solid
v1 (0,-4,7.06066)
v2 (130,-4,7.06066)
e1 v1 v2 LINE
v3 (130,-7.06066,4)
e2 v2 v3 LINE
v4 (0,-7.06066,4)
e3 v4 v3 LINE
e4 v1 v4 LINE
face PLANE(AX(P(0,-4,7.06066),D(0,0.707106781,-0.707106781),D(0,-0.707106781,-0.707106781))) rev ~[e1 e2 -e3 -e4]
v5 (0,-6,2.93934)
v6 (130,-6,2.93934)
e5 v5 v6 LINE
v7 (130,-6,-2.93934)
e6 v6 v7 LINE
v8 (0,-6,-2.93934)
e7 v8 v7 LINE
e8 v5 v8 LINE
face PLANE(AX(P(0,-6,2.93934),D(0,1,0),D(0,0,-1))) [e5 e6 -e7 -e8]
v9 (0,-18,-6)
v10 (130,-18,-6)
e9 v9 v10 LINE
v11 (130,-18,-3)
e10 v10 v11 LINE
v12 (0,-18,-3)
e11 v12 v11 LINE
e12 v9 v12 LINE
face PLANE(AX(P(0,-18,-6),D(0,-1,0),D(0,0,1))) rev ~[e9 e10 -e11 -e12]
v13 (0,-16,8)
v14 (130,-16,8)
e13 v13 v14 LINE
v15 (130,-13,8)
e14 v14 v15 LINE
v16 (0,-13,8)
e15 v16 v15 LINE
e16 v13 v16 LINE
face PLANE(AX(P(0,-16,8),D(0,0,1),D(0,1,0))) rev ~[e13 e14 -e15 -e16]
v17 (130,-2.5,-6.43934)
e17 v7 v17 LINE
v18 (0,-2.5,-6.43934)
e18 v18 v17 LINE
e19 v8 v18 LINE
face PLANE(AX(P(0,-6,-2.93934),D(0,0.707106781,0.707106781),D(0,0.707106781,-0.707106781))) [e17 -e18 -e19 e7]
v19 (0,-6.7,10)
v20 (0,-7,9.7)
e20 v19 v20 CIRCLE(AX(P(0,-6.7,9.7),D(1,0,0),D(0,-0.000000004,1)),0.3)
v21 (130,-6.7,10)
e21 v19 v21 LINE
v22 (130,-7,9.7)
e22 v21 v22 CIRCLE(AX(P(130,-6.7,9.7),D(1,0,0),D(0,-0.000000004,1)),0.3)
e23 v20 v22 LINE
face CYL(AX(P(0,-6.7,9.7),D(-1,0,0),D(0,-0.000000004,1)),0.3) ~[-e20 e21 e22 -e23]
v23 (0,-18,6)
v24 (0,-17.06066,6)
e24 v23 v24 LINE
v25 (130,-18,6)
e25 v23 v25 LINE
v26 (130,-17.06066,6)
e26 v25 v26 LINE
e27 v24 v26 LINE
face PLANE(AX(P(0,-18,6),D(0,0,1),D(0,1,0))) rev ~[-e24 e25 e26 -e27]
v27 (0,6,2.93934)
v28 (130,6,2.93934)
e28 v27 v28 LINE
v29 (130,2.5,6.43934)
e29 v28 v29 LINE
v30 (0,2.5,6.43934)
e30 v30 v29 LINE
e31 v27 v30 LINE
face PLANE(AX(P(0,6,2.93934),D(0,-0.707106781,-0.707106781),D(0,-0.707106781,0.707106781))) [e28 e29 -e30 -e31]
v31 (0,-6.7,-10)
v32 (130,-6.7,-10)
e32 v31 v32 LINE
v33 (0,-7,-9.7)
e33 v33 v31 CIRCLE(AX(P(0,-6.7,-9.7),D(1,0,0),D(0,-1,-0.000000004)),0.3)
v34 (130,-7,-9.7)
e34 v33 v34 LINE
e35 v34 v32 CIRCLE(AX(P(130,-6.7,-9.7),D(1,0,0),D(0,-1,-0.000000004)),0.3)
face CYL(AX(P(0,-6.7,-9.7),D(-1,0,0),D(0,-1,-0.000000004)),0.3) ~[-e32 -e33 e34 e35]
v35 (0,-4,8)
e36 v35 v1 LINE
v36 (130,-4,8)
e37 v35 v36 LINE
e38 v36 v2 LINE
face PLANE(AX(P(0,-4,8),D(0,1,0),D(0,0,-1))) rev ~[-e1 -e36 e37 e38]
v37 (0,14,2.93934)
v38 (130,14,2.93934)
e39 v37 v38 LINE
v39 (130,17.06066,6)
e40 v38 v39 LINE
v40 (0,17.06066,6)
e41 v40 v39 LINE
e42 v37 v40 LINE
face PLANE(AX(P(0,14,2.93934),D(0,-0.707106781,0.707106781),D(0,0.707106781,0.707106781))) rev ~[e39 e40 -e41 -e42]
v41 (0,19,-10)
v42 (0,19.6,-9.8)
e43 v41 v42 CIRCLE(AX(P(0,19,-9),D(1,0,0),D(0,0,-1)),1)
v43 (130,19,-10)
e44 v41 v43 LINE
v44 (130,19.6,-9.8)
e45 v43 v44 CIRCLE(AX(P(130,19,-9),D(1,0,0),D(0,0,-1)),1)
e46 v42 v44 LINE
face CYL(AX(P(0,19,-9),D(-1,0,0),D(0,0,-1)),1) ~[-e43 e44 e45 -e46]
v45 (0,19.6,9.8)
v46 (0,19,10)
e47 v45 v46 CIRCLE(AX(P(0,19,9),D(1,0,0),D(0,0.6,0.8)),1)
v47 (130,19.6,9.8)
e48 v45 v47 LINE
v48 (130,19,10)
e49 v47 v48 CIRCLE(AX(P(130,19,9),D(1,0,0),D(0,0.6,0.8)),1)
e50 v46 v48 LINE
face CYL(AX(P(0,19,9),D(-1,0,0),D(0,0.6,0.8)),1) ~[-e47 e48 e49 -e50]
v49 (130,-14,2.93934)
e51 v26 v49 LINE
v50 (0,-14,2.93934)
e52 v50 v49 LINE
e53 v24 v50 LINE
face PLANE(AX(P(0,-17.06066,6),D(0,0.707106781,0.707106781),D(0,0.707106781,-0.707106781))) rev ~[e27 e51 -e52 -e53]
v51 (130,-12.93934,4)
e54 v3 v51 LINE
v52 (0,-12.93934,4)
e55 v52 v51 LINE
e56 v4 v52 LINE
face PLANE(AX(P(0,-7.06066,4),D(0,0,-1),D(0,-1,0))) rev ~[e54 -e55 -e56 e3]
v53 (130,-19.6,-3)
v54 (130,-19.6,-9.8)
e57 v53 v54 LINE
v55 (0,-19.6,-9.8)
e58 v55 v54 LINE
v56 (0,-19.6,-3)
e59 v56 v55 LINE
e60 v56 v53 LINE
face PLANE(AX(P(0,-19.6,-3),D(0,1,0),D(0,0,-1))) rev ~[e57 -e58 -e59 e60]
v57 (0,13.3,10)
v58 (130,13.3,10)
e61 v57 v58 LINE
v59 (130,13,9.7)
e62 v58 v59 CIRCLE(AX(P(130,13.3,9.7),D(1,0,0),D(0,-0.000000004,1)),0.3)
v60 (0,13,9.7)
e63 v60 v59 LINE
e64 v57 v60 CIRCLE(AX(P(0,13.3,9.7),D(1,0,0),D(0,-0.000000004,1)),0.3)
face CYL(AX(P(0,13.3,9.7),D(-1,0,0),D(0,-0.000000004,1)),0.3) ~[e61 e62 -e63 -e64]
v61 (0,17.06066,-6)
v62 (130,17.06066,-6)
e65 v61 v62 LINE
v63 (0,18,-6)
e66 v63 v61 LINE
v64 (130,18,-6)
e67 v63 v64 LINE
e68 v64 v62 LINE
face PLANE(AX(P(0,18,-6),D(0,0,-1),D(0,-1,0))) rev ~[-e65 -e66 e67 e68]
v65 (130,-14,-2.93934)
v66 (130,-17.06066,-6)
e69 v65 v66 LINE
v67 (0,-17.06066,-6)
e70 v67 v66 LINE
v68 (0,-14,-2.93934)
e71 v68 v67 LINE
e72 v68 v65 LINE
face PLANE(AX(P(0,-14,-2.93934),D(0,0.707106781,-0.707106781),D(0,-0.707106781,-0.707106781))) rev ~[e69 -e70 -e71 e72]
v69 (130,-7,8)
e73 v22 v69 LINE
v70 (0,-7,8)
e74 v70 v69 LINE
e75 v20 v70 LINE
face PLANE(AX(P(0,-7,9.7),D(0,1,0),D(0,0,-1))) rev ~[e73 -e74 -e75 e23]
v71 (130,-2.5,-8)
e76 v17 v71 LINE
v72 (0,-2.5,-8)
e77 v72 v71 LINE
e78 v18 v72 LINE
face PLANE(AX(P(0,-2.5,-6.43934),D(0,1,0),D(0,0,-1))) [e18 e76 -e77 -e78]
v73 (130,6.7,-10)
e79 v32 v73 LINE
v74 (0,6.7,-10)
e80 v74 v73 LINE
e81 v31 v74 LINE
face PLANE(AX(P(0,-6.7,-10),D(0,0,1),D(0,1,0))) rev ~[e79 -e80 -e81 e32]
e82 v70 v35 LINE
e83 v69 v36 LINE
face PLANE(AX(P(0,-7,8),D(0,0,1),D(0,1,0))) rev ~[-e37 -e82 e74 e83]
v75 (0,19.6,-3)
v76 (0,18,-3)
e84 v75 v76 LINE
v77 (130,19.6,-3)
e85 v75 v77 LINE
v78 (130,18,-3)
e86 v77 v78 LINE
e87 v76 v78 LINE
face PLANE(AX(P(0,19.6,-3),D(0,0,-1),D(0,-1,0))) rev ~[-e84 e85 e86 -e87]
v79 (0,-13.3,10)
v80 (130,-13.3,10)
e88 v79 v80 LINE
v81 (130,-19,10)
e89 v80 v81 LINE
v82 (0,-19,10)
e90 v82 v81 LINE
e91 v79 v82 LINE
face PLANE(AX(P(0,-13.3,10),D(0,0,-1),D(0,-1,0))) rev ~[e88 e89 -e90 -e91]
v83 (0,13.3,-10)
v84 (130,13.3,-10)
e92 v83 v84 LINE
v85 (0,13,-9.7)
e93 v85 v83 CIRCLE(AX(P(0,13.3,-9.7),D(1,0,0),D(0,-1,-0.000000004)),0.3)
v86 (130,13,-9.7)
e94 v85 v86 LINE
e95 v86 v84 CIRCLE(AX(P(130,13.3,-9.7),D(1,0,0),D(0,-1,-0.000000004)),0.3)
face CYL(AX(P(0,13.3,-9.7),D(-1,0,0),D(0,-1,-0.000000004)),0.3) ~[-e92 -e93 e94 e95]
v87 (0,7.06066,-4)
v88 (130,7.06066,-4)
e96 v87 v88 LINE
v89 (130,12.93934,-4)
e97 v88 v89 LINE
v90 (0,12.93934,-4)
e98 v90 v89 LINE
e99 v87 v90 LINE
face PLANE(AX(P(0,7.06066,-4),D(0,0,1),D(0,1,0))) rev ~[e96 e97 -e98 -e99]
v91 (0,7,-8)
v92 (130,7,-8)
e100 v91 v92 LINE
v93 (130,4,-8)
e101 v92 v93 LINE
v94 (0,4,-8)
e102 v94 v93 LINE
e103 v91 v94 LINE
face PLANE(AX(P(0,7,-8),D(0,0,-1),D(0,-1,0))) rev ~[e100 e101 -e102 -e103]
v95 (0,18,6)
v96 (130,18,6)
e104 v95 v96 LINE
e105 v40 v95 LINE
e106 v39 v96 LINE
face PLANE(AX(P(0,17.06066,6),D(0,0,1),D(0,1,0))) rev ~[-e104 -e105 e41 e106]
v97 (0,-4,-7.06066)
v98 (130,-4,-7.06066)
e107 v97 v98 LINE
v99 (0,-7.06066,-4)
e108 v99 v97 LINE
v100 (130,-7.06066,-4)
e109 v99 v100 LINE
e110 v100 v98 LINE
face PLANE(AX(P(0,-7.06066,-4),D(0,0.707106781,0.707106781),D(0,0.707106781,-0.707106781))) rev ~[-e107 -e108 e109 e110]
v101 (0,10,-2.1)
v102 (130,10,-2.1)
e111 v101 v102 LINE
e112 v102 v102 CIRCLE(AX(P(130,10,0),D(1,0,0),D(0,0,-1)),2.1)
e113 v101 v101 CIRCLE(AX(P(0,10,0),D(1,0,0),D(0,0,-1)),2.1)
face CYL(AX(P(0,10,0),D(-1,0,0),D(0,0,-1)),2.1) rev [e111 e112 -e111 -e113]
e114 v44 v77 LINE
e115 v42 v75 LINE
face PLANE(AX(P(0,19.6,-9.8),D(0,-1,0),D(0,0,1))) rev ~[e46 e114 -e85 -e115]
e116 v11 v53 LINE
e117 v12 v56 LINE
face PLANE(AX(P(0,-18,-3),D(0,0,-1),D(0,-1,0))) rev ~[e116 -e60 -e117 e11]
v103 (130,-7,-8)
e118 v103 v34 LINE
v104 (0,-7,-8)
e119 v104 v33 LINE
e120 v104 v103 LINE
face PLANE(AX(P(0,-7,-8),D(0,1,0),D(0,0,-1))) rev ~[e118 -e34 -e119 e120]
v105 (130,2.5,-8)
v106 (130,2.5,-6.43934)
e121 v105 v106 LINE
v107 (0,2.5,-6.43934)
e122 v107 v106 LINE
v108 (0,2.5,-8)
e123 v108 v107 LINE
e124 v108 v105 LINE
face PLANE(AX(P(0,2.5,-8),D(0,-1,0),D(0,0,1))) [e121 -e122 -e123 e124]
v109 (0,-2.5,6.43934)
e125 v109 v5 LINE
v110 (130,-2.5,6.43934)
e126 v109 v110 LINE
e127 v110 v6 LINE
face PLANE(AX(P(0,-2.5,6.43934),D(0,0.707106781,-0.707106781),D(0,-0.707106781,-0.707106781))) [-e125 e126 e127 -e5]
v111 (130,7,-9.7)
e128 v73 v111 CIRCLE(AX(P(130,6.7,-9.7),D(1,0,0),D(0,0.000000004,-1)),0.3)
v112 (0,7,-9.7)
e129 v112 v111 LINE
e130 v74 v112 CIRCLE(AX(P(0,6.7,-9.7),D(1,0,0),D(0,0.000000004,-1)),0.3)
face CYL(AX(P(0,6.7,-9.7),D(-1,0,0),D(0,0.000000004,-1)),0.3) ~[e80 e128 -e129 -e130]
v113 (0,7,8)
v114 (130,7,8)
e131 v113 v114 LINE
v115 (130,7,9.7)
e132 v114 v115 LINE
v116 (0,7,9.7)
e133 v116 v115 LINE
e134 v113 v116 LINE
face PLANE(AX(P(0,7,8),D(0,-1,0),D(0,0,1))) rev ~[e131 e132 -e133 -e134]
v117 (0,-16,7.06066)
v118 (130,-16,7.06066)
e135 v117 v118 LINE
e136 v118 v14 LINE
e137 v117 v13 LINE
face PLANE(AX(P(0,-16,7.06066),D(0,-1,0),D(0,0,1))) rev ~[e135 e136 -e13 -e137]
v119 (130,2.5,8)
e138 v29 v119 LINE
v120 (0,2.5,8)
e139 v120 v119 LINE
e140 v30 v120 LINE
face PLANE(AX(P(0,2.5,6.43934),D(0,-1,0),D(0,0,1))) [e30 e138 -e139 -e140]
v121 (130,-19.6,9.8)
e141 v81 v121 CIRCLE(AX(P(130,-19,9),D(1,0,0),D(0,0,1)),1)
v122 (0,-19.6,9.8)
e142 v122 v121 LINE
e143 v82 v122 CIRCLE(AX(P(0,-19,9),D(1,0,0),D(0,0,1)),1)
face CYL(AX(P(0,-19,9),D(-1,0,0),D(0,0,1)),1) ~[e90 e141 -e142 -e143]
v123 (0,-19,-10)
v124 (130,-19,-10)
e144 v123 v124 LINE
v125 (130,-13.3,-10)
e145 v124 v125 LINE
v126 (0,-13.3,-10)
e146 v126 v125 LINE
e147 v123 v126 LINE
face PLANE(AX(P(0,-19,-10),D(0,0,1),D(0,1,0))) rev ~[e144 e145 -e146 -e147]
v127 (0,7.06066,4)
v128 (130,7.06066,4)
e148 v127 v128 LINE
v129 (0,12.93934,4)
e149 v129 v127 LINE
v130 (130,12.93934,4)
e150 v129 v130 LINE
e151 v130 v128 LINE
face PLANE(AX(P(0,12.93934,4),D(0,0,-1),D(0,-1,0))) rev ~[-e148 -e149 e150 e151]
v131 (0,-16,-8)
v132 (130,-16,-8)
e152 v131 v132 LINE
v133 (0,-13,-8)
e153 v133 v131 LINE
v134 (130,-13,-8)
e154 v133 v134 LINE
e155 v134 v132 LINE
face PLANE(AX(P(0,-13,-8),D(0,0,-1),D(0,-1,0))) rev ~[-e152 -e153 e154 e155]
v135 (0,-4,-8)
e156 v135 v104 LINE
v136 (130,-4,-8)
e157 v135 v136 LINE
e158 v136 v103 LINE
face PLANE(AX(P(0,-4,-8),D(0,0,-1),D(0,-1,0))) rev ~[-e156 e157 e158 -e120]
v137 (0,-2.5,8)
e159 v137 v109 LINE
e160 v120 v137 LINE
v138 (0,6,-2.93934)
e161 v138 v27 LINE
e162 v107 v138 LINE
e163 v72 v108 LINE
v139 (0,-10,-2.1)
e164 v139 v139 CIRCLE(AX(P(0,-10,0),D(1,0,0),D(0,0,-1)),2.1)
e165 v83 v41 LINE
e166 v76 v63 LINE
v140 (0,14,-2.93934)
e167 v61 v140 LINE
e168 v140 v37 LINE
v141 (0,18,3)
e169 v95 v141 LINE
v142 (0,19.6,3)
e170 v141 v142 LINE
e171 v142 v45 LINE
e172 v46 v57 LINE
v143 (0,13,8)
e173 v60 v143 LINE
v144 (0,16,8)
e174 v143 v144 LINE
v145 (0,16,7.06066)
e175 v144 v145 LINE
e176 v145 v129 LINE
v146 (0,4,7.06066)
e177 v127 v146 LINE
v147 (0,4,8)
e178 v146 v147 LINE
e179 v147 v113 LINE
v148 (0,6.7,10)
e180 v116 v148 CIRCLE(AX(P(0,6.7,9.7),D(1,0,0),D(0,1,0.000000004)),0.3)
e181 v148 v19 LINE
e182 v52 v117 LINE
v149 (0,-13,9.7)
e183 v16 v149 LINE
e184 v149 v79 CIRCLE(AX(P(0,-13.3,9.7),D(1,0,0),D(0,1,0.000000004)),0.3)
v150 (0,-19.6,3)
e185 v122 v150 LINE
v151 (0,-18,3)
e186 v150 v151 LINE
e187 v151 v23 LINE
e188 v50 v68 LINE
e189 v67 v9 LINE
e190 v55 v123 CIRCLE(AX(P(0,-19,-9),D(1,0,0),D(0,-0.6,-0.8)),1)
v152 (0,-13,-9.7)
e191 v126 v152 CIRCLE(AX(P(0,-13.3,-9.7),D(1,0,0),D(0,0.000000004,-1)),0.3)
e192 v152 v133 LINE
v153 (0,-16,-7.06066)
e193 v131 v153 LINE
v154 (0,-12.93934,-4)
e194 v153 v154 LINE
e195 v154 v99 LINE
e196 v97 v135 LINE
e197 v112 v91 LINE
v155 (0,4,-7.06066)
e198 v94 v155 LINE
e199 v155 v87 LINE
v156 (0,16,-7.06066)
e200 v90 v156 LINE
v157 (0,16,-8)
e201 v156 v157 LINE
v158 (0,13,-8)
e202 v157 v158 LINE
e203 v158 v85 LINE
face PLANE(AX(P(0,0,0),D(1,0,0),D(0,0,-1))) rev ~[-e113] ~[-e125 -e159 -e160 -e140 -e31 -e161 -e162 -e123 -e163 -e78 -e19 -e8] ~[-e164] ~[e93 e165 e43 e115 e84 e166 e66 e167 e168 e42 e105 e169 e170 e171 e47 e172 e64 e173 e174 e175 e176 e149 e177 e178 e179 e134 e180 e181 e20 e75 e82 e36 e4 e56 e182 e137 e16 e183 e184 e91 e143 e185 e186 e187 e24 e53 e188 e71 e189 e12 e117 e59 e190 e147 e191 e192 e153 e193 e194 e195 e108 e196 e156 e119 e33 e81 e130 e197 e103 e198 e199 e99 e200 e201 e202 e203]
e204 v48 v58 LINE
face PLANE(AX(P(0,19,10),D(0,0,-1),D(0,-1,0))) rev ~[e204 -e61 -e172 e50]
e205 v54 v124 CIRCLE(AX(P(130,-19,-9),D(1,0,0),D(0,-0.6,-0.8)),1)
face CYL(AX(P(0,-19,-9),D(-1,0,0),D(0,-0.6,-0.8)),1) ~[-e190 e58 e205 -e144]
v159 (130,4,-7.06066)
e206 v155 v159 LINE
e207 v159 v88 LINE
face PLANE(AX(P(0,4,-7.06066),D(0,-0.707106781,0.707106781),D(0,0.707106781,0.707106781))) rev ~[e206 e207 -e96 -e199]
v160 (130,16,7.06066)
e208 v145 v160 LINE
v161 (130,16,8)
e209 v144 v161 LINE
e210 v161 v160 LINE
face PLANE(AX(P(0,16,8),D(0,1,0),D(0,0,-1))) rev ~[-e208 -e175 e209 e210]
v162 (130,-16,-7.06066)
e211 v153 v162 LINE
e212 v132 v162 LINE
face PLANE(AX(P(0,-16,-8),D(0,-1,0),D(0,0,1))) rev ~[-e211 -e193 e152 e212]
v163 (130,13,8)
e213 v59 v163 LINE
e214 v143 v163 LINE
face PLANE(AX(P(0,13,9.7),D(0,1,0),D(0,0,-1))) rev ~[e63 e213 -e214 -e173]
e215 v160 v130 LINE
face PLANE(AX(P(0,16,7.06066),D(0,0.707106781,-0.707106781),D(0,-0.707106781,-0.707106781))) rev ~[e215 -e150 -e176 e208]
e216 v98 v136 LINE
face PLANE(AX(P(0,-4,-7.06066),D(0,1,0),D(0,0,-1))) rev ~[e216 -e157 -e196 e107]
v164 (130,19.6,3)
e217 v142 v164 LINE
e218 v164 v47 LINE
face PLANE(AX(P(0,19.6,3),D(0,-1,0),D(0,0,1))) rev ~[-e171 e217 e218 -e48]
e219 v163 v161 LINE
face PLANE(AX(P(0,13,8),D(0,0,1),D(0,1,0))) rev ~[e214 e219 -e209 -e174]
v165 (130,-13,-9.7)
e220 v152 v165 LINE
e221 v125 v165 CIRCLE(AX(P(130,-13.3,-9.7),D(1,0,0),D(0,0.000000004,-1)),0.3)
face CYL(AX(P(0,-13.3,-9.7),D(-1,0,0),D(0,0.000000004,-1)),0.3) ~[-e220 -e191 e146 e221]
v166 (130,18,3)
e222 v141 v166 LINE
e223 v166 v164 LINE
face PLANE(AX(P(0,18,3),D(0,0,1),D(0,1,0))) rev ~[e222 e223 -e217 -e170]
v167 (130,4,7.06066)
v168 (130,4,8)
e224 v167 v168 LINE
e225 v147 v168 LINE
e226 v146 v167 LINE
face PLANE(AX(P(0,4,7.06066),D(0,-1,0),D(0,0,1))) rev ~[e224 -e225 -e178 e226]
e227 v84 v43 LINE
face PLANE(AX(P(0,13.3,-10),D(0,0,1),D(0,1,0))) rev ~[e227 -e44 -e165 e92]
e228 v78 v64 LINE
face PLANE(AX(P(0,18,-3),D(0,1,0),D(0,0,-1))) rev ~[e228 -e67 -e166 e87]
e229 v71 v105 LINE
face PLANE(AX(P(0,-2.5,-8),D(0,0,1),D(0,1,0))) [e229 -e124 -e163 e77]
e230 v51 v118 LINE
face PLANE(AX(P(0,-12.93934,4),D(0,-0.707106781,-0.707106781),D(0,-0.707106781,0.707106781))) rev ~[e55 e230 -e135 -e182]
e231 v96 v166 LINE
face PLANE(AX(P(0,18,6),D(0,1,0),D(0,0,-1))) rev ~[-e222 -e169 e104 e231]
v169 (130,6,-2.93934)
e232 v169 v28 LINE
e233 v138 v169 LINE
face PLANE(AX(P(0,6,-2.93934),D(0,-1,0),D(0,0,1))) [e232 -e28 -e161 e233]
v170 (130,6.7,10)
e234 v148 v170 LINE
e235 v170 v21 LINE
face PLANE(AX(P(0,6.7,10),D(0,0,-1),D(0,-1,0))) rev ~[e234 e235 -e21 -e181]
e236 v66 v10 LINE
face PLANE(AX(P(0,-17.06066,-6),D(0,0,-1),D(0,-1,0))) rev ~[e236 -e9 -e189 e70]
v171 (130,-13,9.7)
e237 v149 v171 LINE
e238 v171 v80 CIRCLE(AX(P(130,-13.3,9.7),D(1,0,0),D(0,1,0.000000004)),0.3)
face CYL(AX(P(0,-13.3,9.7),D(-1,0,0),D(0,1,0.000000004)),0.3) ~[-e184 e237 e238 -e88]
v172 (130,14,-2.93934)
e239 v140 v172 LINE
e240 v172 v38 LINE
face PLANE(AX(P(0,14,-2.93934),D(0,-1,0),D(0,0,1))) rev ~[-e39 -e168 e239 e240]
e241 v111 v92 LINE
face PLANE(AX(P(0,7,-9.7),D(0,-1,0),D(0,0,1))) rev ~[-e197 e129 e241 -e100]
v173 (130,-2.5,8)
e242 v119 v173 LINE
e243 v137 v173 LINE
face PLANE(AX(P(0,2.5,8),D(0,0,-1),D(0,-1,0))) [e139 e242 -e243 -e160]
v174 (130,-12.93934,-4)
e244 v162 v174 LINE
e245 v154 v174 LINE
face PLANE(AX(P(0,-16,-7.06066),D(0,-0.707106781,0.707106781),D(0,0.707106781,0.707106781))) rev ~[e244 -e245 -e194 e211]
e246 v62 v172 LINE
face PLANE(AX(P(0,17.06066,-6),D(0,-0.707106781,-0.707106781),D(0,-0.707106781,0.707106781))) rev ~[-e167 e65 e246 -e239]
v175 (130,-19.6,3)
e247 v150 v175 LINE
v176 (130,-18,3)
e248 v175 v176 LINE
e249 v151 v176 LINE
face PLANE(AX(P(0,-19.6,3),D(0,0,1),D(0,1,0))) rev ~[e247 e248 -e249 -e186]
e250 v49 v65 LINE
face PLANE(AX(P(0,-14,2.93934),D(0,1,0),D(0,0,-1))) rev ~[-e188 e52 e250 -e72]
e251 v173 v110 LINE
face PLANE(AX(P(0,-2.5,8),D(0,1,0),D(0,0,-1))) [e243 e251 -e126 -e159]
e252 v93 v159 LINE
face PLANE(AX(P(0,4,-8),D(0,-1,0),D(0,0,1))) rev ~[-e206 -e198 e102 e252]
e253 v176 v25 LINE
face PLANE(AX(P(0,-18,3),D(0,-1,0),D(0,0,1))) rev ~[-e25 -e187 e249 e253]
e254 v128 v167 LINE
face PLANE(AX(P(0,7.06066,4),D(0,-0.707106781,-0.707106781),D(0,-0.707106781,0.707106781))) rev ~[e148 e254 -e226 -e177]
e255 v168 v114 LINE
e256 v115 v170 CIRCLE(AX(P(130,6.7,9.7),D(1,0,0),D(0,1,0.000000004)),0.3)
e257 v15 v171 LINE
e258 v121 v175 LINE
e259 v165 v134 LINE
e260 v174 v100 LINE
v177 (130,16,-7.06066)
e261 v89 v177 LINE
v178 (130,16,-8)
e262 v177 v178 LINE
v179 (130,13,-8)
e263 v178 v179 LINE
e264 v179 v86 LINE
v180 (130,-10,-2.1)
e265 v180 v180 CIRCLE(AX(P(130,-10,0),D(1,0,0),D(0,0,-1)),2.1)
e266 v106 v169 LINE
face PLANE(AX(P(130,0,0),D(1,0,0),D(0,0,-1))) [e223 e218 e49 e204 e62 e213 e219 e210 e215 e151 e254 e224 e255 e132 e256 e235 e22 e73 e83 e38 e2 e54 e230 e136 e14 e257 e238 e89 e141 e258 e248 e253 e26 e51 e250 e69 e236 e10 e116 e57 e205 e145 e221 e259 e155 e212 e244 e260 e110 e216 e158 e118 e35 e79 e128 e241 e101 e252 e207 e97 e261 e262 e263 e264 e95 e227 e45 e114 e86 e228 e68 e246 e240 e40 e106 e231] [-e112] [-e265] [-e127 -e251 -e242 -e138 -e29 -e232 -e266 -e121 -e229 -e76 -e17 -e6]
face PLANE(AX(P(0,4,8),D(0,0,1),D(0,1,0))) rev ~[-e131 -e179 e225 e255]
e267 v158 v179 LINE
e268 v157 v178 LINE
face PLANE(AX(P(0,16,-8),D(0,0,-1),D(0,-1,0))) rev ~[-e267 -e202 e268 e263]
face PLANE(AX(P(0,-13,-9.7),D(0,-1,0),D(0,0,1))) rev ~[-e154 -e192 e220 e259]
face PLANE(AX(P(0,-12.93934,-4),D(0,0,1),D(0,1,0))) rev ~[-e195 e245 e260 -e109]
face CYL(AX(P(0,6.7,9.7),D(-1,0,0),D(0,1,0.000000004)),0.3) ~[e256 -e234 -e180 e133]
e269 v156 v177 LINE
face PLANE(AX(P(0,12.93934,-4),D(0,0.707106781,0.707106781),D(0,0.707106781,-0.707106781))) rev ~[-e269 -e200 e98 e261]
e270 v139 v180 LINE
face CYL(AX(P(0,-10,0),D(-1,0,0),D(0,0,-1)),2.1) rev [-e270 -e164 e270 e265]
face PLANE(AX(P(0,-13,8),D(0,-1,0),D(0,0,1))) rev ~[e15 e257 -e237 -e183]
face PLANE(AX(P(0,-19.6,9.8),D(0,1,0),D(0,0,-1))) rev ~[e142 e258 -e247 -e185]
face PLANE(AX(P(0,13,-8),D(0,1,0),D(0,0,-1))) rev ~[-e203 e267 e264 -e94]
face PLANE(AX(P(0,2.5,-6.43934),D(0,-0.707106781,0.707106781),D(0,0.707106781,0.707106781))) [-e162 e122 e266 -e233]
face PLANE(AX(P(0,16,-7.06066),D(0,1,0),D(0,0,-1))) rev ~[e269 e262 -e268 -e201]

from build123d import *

# Parameters (mm, degrees)
SKETCH_1_R                   = 2.1
SERI_5_20_40_20X40S5_2_DEPTH = 130


with BuildPart() as part:
    # 草图1 → Seri 5 (20,40) 20X40S5(2) (new body)
    with BuildSketch(Plane(origin=(0, 0, 0), x_dir=(0, 0, -1), z_dir=(1, 0, 0))):
        with BuildLine():
            Line((-10, 19), (-10, 13.3))
            ThreePointArc((-10, 13.3), (-9.912132034, 13.087867966), (-9.7, 13))
            Line((-9.7, 13), (-8, 13))
            Line((-8, 13), (-8, 16))
            Line((-8, 16), (-7.060660172, 16))
            Line((-7.060660172, 16), (-4, 12.939339828))
            Line((-4, 12.939339828), (-4, 7.060660172))
            Line((-4, 7.060660172), (-7.060660172, 4))
            Line((-7.060660172, 4), (-8, 4))
            Line((-8, 4), (-8, 7))
            Line((-8, 7), (-9.7, 7))
            ThreePointArc((-9.7, 7), (-9.912132034, 6.912132034), (-10, 6.7))
            Line((-10, 6.7), (-10, -6.7))
            ThreePointArc((-10, -6.7), (-9.912132034, -6.912132034), (-9.7, -7))
            Line((-9.7, -7), (-8, -7))
            Line((-8, -7), (-8, -4))
            Line((-8, -4), (-7.060660172, -4))
            Line((-7.060660172, -4), (-4, -7.060660172))
            Line((-4, -7.060660172), (-4, -12.939339828))
            Line((-4, -12.939339828), (-7.060660172, -16))
            Line((-7.060660172, -16), (-8, -16))
            Line((-8, -16), (-8, -13))
            Line((-8, -13), (-9.7, -13))
            ThreePointArc((-9.7, -13), (-9.912132034, -13.087867966), (-10, -13.3))
            Line((-10, -13.3), (-10, -19))
            ThreePointArc((-10, -19), (-9.948683298, -19.316227766), (-9.8, -19.6))
            Line((-9.8, -19.6), (-3, -19.6))
            Line((-3, -19.6), (-3, -18))
            Line((-3, -18), (-6, -18))
            Line((-6, -18), (-6, -17.060660172))
            Line((-6, -17.060660172), (-2.939339828, -14))
            Line((-2.939339828, -14), (2.939339828, -14))
            Line((2.939339828, -14), (6, -17.060660172))
            Line((6, -17.060660172), (6, -18))
            Line((6, -18), (3, -18))
            Line((3, -18), (3, -19.6))
            Line((3, -19.6), (9.8, -19.6))
            ThreePointArc((9.8, -19.6), (9.948683298, -19.316227766), (10, -19))
            Line((10, -19), (10, -13.3))
            ThreePointArc((10, -13.3), (9.912132034, -13.087867966), (9.7, -13))
            Line((9.7, -13), (8, -13))
            Line((8, -13), (8, -16))
            Line((8, -16), (7.060660172, -16))
            Line((7.060660172, -16), (4, -12.939339828))
            Line((4, -12.939339828), (4, -7.060660172))
            Line((4, -7.060660172), (7.060660172, -4))
            Line((7.060660172, -4), (8, -4))
            Line((8, -4), (8, -7))
            Line((8, -7), (9.7, -7))
            ThreePointArc((9.7, -7), (9.912132034, -6.912132034), (10, -6.7))
            Line((10, -6.7), (10, 6.7))
            ThreePointArc((10, 6.7), (9.912132034, 6.912132034), (9.7, 7))
            Line((9.7, 7), (8, 7))
            Line((8, 7), (8, 4))
            Line((8, 4), (7.060660172, 4))
            Line((7.060660172, 4), (4, 7.060660172))
            Line((4, 7.060660172), (4, 12.939339828))
            Line((4, 12.939339828), (7.060660172, 16))
            Line((7.060660172, 16), (8, 16))
            Line((8, 16), (8, 13))
            Line((8, 13), (9.7, 13))
            ThreePointArc((9.7, 13), (9.912132034, 13.087867966), (10, 13.3))
            Line((10, 13.3), (10, 19))
            ThreePointArc((10, 19), (9.948683298, 19.316227766), (9.8, 19.6))
            Line((9.8, 19.6), (3, 19.6))
            Line((3, 19.6), (3, 18))
            Line((3, 18), (6, 18))
            Line((6, 18), (6, 17.060660172))
            Line((6, 17.060660172), (2.939339828, 14))
            Line((2.939339828, 14), (-2.939339828, 14))
            Line((-2.939339828, 14), (-6, 17.060660172))
            Line((-6, 17.060660172), (-6, 18))
            Line((-6, 18), (-3, 18))
            Line((-3, 18), (-3, 19.6))
            Line((-3, 19.6), (-9.8, 19.6))
            ThreePointArc((-9.8, 19.6), (-9.948683298, 19.316227766), (-10, 19))
        make_face()
        with Locations((0, -10)):
            Circle(SKETCH_1_R, mode=Mode.SUBTRACT)
        with Locations((0, 10)):
            Circle(SKETCH_1_R, mode=Mode.SUBTRACT)
        Polygon((-8, -2.5), (-6.439339828, -2.5), (-2.939339828, -6), (2.939339828, -6), (6.439339828, -2.5), (8, -2.5), (8, 2.5), (6.439339828, 2.5), (2.939339828, 6), (-2.939339828, 6), (-6.439339828, 2.5), (-8, 2.5), align=None, mode=Mode.SUBTRACT)
    extrude(amount=SERI_5_20_40_20X40S5_2_DEPTH)


solid = part.part
